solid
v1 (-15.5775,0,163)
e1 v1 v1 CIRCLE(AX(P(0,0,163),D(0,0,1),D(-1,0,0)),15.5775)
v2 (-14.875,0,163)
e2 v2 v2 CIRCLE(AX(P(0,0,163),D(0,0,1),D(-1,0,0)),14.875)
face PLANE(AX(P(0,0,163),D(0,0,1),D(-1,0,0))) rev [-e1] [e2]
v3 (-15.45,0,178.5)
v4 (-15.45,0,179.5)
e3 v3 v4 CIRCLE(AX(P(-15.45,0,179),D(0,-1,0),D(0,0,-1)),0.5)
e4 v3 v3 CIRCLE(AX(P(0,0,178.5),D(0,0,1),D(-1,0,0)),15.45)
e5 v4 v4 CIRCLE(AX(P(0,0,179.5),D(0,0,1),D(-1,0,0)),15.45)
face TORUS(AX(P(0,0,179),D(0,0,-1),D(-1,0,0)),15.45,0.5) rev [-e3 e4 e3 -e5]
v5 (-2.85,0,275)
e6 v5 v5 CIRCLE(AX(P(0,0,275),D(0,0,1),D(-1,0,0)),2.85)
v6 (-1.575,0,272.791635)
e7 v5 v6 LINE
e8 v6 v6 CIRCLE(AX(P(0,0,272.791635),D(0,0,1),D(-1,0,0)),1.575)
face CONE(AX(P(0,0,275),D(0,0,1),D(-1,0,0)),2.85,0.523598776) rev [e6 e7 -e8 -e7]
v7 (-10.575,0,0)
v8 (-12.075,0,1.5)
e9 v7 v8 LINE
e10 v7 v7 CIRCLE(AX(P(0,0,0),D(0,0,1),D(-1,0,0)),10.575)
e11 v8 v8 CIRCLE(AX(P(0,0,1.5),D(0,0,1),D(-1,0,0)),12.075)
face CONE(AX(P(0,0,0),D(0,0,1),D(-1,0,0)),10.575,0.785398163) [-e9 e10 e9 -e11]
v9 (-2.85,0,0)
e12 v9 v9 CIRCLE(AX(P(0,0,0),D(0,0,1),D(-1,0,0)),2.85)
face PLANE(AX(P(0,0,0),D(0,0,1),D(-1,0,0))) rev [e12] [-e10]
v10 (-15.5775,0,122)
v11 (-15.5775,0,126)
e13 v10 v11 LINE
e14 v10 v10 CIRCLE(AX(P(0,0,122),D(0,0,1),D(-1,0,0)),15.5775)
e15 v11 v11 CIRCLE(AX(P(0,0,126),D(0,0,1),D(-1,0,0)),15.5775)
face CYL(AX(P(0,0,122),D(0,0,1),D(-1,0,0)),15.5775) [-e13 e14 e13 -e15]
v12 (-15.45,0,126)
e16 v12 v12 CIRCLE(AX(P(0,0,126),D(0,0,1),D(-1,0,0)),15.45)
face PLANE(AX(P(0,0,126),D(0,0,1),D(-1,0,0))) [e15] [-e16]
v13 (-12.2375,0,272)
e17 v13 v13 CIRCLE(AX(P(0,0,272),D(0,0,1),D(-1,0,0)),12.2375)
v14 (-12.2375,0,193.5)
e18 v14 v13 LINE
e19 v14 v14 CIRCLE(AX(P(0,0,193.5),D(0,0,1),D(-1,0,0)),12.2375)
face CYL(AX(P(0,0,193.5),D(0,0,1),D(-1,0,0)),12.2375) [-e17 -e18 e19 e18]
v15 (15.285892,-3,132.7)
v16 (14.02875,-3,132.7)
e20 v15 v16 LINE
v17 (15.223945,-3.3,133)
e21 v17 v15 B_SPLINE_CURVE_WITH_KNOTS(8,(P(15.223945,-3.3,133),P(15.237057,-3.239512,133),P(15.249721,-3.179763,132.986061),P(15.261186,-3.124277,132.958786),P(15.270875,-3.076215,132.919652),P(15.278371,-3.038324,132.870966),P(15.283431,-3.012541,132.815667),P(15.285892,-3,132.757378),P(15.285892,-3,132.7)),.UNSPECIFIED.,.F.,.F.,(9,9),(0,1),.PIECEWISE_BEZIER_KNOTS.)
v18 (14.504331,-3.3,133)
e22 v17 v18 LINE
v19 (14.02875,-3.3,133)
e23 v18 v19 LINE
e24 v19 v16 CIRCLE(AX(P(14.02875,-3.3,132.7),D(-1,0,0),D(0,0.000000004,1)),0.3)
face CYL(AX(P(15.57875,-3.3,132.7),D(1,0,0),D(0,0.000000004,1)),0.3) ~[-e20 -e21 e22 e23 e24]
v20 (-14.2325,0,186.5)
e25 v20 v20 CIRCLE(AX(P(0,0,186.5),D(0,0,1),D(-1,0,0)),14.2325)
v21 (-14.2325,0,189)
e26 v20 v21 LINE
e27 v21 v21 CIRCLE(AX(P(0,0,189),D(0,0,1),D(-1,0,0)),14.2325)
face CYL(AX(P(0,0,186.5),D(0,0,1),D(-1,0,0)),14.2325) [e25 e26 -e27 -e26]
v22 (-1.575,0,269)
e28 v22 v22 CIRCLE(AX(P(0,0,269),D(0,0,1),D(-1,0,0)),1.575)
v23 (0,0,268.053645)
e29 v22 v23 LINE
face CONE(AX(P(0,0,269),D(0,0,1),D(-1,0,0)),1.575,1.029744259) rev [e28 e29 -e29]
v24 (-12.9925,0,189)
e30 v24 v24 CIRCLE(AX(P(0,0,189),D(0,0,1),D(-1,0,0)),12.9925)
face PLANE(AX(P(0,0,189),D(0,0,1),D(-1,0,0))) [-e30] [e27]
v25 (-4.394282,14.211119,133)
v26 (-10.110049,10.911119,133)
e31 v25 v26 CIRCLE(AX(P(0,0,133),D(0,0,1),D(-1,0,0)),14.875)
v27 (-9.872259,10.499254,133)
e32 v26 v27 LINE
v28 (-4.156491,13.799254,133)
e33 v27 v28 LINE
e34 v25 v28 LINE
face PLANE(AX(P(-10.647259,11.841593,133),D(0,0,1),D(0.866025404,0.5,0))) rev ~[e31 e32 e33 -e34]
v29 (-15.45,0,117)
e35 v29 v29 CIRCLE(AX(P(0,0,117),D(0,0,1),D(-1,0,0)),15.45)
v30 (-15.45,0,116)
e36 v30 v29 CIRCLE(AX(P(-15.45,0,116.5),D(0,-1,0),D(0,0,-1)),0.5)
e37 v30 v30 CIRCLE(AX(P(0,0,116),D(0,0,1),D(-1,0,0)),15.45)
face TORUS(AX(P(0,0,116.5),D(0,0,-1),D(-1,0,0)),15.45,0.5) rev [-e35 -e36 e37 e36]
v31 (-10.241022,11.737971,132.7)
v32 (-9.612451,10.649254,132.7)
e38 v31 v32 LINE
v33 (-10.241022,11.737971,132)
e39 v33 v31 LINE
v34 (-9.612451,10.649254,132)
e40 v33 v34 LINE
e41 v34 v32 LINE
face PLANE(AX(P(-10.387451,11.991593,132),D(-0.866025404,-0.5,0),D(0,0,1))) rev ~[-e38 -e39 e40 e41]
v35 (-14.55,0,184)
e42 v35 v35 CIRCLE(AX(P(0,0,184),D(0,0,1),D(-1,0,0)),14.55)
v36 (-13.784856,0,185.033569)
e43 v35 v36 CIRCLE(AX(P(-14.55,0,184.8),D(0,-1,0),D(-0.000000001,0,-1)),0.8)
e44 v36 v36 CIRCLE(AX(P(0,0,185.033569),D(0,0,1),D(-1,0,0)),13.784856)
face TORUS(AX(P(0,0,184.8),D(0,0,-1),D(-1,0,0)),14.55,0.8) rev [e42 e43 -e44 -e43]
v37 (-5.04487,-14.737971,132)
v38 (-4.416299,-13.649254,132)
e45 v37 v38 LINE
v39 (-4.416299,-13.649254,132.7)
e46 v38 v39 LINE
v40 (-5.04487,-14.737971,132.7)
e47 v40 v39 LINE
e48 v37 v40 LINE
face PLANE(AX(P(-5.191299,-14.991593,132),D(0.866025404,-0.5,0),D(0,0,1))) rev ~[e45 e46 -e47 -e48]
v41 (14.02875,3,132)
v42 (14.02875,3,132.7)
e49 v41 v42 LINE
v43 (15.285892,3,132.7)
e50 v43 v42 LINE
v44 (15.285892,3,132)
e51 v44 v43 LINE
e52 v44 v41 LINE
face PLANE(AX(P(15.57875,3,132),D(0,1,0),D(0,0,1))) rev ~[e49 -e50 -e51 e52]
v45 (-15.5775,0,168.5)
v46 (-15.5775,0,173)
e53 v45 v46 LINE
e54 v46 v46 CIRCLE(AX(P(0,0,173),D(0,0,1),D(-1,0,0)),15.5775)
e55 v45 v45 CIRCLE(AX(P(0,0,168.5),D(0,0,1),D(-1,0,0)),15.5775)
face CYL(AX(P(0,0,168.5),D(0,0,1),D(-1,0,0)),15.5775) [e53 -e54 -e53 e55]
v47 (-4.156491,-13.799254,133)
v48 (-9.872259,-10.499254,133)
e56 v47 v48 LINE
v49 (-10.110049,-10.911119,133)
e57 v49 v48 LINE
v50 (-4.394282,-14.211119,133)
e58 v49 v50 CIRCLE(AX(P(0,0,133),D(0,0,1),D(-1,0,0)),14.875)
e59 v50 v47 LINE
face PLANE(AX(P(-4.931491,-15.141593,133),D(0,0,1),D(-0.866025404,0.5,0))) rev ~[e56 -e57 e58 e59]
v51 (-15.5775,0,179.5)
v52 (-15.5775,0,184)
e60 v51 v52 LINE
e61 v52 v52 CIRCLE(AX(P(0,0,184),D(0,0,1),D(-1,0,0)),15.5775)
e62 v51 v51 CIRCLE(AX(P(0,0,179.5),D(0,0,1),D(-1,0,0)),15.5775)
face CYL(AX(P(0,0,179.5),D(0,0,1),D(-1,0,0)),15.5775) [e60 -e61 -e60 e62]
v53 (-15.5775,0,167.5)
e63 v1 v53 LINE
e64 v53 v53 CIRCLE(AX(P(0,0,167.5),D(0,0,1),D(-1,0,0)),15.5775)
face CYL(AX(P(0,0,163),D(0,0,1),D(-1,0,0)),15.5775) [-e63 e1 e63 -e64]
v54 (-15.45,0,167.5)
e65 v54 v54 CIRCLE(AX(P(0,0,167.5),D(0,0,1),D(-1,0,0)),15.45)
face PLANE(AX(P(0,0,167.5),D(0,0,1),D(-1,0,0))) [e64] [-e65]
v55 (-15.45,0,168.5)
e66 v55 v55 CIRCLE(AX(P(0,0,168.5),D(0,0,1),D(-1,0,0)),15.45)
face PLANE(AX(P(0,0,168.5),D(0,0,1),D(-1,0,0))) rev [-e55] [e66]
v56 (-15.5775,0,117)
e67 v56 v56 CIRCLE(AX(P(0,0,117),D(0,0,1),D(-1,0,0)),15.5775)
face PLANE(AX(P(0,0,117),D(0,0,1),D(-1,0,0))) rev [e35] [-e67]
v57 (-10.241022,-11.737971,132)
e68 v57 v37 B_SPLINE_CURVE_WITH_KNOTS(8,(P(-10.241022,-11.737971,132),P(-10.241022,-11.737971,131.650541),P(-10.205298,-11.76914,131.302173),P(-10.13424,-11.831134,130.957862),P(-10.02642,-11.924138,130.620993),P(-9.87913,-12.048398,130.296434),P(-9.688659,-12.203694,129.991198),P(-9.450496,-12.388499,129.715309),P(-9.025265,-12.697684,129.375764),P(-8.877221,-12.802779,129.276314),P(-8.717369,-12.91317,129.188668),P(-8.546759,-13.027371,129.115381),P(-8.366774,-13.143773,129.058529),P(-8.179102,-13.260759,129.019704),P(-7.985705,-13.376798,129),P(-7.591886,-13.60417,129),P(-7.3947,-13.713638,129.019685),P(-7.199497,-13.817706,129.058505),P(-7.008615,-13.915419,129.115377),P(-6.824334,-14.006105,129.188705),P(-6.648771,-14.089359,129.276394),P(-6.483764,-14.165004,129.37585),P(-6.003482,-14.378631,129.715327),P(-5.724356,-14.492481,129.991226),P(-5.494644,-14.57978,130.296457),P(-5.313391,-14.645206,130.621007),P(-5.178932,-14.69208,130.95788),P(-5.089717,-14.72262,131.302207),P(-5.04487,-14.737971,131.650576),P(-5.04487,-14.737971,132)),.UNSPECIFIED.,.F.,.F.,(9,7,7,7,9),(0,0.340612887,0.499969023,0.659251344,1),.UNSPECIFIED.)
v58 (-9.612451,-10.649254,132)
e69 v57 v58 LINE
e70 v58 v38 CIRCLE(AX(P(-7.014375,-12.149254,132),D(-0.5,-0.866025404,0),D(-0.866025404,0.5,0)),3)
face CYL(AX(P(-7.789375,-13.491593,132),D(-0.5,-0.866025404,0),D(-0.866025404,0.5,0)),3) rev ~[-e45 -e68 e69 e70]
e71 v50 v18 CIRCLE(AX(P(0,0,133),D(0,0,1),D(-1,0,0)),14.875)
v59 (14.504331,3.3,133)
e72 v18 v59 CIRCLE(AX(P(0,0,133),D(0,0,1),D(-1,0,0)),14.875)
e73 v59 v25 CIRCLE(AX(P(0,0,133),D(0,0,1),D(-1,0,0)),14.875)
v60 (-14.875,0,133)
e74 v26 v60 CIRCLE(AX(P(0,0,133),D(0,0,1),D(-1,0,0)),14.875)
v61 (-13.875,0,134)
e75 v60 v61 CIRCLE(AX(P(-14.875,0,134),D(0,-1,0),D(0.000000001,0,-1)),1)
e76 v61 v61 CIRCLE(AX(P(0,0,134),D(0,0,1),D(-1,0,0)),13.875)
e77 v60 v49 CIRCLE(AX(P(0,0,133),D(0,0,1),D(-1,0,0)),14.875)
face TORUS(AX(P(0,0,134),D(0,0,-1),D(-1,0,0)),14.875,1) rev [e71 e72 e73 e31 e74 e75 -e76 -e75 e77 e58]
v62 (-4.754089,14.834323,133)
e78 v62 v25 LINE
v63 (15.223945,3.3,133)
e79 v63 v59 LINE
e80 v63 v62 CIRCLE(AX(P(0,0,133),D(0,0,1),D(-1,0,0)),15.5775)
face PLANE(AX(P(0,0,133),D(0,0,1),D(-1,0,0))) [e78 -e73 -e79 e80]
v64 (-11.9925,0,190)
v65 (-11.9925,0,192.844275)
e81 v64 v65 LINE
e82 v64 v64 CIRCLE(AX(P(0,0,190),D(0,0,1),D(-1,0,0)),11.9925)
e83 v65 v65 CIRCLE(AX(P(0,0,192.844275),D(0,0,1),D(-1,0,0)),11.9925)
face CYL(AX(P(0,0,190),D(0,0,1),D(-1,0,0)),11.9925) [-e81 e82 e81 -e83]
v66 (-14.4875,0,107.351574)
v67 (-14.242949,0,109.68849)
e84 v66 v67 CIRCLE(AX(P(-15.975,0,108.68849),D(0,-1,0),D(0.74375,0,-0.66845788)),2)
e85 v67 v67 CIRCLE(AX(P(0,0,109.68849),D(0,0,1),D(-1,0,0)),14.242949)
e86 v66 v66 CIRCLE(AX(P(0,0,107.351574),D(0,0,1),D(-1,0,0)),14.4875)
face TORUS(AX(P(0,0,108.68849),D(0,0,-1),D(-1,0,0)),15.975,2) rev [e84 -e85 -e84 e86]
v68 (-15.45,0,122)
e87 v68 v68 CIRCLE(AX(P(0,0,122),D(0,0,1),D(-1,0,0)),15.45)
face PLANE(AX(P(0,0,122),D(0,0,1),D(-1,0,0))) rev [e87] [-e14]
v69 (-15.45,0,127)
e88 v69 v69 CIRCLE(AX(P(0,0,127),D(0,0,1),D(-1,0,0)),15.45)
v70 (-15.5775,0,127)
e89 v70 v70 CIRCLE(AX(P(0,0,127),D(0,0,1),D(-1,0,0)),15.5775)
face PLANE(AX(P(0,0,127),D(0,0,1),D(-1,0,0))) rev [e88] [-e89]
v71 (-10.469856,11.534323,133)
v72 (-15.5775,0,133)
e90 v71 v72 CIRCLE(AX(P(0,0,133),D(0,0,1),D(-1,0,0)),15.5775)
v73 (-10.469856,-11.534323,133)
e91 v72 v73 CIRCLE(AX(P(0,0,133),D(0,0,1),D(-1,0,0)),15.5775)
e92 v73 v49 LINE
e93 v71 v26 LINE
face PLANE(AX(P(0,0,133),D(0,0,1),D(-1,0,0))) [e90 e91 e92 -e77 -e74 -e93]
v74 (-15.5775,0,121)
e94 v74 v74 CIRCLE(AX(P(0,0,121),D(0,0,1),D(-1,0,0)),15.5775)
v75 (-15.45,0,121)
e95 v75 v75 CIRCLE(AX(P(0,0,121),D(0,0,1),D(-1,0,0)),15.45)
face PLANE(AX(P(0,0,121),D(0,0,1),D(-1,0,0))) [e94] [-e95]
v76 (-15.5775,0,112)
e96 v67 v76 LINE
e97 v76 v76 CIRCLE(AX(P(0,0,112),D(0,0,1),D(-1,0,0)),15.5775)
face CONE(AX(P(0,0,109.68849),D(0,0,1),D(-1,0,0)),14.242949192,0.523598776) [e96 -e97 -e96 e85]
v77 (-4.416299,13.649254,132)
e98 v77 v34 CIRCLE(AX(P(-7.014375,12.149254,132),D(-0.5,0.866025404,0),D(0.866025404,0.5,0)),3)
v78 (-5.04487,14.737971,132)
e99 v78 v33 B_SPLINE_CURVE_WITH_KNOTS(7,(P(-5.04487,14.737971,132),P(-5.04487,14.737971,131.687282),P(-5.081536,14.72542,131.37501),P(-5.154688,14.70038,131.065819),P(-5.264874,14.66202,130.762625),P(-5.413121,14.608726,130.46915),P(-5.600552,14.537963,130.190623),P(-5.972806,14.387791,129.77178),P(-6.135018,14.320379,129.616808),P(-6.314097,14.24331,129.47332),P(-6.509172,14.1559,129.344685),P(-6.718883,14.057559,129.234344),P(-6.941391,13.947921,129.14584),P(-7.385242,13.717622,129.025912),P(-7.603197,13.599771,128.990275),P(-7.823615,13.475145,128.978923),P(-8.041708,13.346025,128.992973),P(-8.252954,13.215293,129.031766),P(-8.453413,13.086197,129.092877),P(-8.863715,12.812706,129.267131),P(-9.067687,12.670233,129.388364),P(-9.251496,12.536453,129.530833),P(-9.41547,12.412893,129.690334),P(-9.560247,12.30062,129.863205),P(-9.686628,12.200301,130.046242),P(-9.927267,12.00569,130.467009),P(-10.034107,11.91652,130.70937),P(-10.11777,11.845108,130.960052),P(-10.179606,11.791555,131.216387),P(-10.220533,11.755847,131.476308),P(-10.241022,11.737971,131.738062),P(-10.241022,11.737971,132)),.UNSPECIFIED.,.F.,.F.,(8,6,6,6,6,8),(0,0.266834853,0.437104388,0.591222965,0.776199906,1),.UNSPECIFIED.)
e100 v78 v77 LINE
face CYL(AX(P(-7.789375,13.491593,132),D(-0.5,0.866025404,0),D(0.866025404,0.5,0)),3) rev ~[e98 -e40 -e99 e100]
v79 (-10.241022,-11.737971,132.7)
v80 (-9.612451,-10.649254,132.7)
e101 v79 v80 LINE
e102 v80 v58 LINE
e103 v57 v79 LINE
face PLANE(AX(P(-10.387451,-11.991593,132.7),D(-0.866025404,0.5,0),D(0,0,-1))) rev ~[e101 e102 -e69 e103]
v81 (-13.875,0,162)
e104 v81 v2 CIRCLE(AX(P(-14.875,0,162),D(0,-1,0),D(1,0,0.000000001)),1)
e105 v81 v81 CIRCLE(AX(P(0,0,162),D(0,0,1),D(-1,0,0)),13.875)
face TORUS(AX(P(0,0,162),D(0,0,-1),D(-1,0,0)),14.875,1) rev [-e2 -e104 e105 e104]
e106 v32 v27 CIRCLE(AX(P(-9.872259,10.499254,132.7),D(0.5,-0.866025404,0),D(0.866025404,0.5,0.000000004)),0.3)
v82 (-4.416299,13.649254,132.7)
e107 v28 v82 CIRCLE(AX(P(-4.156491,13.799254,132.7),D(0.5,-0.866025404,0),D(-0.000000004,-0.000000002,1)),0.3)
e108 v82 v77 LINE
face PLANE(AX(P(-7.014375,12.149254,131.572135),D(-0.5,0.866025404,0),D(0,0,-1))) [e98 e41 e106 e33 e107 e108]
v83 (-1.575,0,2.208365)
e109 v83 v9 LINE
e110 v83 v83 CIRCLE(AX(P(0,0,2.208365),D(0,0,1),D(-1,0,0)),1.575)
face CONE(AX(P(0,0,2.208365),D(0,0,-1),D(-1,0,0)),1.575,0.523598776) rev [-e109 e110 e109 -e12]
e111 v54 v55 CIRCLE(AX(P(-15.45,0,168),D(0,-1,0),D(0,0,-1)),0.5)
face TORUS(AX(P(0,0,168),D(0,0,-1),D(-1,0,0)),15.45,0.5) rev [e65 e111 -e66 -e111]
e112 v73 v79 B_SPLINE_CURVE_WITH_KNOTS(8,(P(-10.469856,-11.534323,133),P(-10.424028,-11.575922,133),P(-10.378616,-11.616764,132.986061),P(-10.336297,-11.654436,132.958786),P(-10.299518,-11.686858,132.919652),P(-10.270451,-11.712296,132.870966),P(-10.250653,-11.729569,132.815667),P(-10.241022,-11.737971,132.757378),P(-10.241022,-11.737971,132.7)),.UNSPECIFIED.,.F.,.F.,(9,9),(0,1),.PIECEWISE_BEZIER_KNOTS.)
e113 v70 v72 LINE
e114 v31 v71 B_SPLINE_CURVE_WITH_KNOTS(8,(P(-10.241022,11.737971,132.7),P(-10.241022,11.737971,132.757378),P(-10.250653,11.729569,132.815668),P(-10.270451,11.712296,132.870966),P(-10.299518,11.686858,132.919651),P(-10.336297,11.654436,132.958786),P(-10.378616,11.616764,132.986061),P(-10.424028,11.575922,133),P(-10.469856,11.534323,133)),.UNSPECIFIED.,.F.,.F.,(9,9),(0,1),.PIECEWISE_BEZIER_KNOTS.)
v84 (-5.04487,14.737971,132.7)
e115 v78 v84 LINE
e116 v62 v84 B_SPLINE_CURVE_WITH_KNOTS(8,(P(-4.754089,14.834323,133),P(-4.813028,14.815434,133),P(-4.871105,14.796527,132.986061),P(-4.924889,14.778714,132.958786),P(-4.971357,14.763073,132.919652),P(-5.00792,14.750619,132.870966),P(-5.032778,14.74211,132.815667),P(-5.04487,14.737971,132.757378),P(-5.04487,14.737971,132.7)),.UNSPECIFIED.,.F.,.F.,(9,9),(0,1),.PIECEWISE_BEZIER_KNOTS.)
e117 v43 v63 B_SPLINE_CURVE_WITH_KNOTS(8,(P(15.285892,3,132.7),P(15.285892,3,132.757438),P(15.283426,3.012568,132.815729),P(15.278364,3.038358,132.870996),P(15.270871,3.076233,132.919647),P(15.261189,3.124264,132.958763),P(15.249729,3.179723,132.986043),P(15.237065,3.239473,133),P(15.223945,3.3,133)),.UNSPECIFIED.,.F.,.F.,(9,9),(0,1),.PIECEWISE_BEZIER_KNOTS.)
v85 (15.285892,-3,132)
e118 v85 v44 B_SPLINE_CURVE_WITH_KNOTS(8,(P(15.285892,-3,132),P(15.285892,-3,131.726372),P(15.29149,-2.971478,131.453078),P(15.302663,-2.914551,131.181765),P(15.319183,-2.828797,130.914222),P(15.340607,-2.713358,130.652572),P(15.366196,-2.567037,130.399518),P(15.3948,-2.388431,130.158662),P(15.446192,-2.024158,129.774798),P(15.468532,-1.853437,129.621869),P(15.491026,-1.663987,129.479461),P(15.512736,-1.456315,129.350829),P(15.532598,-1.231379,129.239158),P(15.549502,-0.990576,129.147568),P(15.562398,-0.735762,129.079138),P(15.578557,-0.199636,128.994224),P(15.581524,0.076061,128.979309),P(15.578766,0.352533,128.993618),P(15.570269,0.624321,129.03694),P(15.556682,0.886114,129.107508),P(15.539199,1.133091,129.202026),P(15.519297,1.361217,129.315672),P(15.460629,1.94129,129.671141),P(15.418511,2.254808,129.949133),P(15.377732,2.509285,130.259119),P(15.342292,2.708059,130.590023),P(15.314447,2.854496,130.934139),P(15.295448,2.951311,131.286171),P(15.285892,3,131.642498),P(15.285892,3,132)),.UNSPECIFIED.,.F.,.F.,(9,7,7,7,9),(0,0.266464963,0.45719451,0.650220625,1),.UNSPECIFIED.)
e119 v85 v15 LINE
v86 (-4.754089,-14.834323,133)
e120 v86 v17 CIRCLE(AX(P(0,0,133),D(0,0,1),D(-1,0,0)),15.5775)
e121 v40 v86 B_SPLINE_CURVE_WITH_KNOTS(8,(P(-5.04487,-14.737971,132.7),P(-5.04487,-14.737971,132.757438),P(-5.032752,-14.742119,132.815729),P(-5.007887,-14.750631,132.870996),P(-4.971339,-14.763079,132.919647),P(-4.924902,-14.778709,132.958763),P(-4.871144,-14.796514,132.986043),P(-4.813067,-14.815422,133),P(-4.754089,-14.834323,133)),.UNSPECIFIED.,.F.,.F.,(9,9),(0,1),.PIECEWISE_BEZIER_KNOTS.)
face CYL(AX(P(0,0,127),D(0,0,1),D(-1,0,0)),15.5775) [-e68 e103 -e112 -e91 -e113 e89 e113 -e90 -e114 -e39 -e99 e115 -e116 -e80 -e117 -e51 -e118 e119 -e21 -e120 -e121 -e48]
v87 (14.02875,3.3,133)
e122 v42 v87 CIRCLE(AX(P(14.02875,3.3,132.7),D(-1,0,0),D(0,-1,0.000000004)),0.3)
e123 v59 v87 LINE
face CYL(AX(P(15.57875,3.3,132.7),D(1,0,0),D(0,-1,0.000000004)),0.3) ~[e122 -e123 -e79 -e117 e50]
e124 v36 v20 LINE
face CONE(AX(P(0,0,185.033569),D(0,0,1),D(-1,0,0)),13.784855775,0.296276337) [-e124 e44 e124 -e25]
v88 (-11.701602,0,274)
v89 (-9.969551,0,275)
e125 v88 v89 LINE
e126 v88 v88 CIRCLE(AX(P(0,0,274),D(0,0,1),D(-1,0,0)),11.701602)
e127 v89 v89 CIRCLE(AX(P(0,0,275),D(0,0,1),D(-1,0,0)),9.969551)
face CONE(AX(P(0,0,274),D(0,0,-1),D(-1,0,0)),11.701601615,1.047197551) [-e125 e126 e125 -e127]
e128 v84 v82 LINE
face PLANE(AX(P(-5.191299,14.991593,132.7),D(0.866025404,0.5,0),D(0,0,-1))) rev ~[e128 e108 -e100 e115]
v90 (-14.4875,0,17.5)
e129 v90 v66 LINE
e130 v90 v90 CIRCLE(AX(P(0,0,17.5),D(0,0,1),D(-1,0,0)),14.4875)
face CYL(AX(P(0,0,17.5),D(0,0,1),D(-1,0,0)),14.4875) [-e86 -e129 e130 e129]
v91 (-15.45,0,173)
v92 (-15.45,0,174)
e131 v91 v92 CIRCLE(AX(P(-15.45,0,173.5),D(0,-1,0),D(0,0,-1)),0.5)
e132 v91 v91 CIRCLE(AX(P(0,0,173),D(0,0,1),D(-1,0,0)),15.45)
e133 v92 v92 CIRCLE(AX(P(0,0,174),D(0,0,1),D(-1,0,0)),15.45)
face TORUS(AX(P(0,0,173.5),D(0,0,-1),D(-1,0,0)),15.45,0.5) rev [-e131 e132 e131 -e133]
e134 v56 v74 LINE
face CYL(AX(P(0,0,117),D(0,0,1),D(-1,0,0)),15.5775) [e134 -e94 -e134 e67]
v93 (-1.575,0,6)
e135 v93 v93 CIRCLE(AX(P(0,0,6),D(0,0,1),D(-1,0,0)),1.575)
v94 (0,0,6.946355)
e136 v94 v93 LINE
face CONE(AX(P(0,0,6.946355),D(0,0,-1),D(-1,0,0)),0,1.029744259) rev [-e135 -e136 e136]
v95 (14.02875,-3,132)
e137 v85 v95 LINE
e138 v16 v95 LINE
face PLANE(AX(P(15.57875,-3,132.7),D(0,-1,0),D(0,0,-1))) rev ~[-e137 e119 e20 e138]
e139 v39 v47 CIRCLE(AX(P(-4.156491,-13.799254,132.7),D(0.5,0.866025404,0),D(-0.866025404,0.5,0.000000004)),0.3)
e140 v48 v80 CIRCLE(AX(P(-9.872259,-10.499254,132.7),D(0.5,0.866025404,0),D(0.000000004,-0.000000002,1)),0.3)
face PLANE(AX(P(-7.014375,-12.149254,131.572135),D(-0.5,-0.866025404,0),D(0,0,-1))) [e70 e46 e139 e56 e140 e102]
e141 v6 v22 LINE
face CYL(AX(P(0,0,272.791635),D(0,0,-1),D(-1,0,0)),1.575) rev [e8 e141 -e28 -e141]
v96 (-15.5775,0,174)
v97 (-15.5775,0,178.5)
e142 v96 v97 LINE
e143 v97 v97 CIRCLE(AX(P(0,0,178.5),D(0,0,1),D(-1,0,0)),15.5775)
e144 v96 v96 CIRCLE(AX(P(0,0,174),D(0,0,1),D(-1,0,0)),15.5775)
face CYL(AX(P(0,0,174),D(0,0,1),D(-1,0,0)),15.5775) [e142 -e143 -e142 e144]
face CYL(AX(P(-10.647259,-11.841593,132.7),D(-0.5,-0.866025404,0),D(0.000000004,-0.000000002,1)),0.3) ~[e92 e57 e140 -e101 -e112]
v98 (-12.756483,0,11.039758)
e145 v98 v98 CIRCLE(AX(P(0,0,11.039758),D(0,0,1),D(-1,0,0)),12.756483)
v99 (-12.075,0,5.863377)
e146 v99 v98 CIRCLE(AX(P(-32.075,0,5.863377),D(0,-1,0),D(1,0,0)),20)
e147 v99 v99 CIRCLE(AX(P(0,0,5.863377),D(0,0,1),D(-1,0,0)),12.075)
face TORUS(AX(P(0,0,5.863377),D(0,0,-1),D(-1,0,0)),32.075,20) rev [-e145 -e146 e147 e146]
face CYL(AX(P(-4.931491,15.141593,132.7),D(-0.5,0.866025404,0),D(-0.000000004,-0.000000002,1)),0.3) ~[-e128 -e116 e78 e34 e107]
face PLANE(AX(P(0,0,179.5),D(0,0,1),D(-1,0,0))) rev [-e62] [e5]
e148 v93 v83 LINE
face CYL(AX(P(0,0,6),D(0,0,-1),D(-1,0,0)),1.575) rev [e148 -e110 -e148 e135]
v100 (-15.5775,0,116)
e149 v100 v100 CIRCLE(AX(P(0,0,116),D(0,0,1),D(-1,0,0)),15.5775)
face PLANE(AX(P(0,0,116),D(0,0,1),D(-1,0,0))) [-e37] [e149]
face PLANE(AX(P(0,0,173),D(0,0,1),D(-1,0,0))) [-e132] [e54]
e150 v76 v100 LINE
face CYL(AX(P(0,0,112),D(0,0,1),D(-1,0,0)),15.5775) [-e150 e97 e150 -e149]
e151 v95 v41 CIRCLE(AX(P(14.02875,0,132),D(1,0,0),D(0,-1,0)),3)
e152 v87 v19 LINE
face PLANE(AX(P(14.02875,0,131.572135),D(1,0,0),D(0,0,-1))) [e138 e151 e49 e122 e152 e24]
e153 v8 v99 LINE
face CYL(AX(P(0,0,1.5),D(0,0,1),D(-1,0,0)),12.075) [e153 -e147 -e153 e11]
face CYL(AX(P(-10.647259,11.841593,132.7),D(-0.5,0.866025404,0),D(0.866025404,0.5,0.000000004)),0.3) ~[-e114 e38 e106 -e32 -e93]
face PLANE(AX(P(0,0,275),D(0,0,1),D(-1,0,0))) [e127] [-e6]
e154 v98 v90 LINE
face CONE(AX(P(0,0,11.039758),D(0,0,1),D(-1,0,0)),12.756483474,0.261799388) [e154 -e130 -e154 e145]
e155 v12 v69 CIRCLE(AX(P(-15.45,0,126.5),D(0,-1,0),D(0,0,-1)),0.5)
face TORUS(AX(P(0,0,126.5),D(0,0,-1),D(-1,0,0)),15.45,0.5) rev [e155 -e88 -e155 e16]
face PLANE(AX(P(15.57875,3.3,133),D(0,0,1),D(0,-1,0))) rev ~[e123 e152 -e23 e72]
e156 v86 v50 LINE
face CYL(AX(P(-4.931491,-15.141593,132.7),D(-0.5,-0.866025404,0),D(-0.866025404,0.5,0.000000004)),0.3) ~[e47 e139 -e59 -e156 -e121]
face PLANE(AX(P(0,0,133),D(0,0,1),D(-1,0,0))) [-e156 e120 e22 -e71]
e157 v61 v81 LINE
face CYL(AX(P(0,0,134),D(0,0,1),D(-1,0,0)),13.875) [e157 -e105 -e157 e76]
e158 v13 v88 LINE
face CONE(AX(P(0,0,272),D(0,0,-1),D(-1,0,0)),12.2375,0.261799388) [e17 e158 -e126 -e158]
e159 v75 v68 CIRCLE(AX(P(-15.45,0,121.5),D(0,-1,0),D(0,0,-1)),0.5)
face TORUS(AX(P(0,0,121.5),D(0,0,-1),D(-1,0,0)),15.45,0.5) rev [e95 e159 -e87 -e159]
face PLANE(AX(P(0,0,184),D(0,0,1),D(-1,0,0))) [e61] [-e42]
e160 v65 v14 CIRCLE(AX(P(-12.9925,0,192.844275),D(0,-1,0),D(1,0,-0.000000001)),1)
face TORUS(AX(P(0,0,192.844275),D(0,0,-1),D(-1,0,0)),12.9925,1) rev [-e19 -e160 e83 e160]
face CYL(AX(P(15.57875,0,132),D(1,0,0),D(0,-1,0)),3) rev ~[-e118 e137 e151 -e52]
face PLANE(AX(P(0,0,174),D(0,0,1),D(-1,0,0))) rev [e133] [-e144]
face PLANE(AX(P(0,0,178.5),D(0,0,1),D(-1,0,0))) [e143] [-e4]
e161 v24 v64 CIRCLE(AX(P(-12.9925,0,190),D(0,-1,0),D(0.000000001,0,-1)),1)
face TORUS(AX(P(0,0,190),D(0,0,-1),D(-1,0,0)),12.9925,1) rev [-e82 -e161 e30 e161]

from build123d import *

# Parameters (mm, degrees)
CUT_EXTRUDE1_DEPTH = 1.55
CIRPATTERN1_COUNT  = 3


with BuildPart() as part:
    # Sketch1 → Revolve1 (revolve)
    with BuildSketch(Plane(origin=(0, 0, 0), x_dir=(0, 0, -1), z_dir=(1, 0, 0)), mode=Mode.PRIVATE) as revolve1_sk:
        with BuildLine():
            Line((-17.5, 14.4875), (-107.351574436, 14.4875))
            ThreePointArc((-107.351574436, 14.4875), (-108.480333208, 13.985861828), (-109.688490196, 14.242949192))
            Line((-109.688490196, 14.242949192), (-112, 15.5775))
            Line((-112, 15.5775), (-116, 15.5775))
            Line((-116, 15.5775), (-116, 15.45))
            ThreePointArc((-116, 15.45), (-116.5, 14.95), (-117, 15.45))
            Line((-117, 15.45), (-117, 15.5775))
            Line((-117, 15.5775), (-121, 15.5775))
            Line((-121, 15.5775), (-121, 15.45))
            ThreePointArc((-121, 15.45), (-121.5, 14.95), (-122, 15.45))
            Line((-122, 15.45), (-122, 15.5775))
            Line((-122, 15.5775), (-126, 15.5775))
            Line((-126, 15.5775), (-126, 15.45))
            ThreePointArc((-126, 15.45), (-126.5, 14.95), (-127, 15.45))
            Line((-127, 15.45), (-127, 15.5775))
            Line((-127, 15.5775), (-133, 15.5775))
            Line((-133, 15.5775), (-133, 14.875))
            ThreePointArc((-133, 14.875), (-133.292893219, 14.167893219), (-134, 13.875))
            Line((-134, 13.875), (-162, 13.875))
            ThreePointArc((-162, 13.875), (-162.707106781, 14.167893219), (-163, 14.875))
            Line((-163, 14.875), (-163, 15.5775))
            Line((-163, 15.5775), (-167.5, 15.5775))
            Line((-167.5, 15.5775), (-167.5, 15.45))
            ThreePointArc((-167.5, 15.45), (-168, 14.95), (-168.5, 15.45))
            Line((-168.5, 15.45), (-168.5, 15.5775))
            Line((-168.5, 15.5775), (-173, 15.5775))
            Line((-173, 15.5775), (-173, 15.45))
            ThreePointArc((-173, 15.45), (-173.5, 14.95), (-174, 15.45))
            Line((-174, 15.45), (-174, 15.5775))
            Line((-174, 15.5775), (-178.5, 15.5775))
            Line((-178.5, 15.5775), (-178.5, 15.45))
            ThreePointArc((-178.5, 15.45), (-179, 14.95), (-179.5, 15.45))
            Line((-179.5, 15.45), (-179.5, 15.5775))
            Line((-179.5, 15.5775), (-184, 15.5775))
            Line((-184, 15.5775), (-184, 14.55))
            ThreePointArc((-184, 14.55), (-184.324003635, 13.907016749), (-185.033568652, 13.784855775))
            Line((-185.033568652, 13.784855775), (-186.5, 14.2325))
            Line((-186.5, 14.2325), (-189, 14.2325))
            Line((-189, 14.2325), (-189, 12.9925))
            ThreePointArc((-189, 12.9925), (-189.292893219, 12.285393219), (-190, 11.9925))
            Line((-190, 11.9925), (-192.84427521, 11.9925))
            ThreePointArc((-192.84427521, 11.9925), (-193.19427521, 12.0557503), (-193.5, 12.2375))
            Line((-193.5, 12.2375), (-272, 12.2375))
            Line((-272, 12.2375), (-274, 11.701601615))
            Line((-274, 11.701601615), (-275, 9.969550808))
            Line((-275, 9.969550808), (-275, 2.85))
            Line((-275, 2.85), (-272.79163522, 1.575))
            Line((-272.79163522, 1.575), (-269, 1.575))
            Line((-269, 1.575), (-268.053644525, 0))
            Line((-268.053644525, 0), (-6.946355475, 0))
            Line((-6.946355475, 0), (-6, 1.575))
            Line((-6, 1.575), (-2.20836478, 1.575))
            Line((-2.20836478, 1.575), (0, 2.85))
            Line((0, 2.85), (0, 10.575))
            Line((0, 10.575), (-1.5, 12.075))
            Line((-1.5, 12.075), (-5.863377475, 12.075))
            ThreePointArc((-5.863377475, 12.075), (-8.473901319, 12.246102773), (-11.039758377, 12.756483474))
            Line((-11.039758377, 12.756483474), (-17.5, 14.4875))
        make_face()
    revolve(revolve1_sk.sketch.rotate(Axis((0, 0, 0), (0, 0, 1)), 90), axis=Axis((0, 0, 0), (0, 0, 1)))

    # Sketch3 → Cut-Extrude1 (cut)
    with BuildSketch(Plane(origin=(15.57875, 0, 0), x_dir=(0, 0, -1), z_dir=(1, 0, 0))):
        with BuildLine():
            Line((-132, 3), (-132.7, 3))
            ThreePointArc((-132.7, 3), (-132.912132034, 3.087867966), (-133, 3.3))
            Line((-133, 3.3), (-133, -3.3))
            ThreePointArc((-133, -3.3), (-132.912132034, -3.087867966), (-132.7, -3))
            Line((-132.7, -3), (-132, -3))
            ThreePointArc((-132, -3), (-129, 0), (-132, 3))
        make_face()
    cut_extrude1 = extrude(amount=-CUT_EXTRUDE1_DEPTH, mode=Mode.SUBTRACT)

    # CirPattern1: Cut-Extrude1 ×3 about axis
    cirpattern1_axis = Axis((0, 0, 0), (0, 0, 1))
    for i in range(1, CIRPATTERN1_COUNT):
        add(cut_extrude1.rotate(cirpattern1_axis, i * 360 / CIRPATTERN1_COUNT), mode=Mode.SUBTRACT)


solid = part.part
